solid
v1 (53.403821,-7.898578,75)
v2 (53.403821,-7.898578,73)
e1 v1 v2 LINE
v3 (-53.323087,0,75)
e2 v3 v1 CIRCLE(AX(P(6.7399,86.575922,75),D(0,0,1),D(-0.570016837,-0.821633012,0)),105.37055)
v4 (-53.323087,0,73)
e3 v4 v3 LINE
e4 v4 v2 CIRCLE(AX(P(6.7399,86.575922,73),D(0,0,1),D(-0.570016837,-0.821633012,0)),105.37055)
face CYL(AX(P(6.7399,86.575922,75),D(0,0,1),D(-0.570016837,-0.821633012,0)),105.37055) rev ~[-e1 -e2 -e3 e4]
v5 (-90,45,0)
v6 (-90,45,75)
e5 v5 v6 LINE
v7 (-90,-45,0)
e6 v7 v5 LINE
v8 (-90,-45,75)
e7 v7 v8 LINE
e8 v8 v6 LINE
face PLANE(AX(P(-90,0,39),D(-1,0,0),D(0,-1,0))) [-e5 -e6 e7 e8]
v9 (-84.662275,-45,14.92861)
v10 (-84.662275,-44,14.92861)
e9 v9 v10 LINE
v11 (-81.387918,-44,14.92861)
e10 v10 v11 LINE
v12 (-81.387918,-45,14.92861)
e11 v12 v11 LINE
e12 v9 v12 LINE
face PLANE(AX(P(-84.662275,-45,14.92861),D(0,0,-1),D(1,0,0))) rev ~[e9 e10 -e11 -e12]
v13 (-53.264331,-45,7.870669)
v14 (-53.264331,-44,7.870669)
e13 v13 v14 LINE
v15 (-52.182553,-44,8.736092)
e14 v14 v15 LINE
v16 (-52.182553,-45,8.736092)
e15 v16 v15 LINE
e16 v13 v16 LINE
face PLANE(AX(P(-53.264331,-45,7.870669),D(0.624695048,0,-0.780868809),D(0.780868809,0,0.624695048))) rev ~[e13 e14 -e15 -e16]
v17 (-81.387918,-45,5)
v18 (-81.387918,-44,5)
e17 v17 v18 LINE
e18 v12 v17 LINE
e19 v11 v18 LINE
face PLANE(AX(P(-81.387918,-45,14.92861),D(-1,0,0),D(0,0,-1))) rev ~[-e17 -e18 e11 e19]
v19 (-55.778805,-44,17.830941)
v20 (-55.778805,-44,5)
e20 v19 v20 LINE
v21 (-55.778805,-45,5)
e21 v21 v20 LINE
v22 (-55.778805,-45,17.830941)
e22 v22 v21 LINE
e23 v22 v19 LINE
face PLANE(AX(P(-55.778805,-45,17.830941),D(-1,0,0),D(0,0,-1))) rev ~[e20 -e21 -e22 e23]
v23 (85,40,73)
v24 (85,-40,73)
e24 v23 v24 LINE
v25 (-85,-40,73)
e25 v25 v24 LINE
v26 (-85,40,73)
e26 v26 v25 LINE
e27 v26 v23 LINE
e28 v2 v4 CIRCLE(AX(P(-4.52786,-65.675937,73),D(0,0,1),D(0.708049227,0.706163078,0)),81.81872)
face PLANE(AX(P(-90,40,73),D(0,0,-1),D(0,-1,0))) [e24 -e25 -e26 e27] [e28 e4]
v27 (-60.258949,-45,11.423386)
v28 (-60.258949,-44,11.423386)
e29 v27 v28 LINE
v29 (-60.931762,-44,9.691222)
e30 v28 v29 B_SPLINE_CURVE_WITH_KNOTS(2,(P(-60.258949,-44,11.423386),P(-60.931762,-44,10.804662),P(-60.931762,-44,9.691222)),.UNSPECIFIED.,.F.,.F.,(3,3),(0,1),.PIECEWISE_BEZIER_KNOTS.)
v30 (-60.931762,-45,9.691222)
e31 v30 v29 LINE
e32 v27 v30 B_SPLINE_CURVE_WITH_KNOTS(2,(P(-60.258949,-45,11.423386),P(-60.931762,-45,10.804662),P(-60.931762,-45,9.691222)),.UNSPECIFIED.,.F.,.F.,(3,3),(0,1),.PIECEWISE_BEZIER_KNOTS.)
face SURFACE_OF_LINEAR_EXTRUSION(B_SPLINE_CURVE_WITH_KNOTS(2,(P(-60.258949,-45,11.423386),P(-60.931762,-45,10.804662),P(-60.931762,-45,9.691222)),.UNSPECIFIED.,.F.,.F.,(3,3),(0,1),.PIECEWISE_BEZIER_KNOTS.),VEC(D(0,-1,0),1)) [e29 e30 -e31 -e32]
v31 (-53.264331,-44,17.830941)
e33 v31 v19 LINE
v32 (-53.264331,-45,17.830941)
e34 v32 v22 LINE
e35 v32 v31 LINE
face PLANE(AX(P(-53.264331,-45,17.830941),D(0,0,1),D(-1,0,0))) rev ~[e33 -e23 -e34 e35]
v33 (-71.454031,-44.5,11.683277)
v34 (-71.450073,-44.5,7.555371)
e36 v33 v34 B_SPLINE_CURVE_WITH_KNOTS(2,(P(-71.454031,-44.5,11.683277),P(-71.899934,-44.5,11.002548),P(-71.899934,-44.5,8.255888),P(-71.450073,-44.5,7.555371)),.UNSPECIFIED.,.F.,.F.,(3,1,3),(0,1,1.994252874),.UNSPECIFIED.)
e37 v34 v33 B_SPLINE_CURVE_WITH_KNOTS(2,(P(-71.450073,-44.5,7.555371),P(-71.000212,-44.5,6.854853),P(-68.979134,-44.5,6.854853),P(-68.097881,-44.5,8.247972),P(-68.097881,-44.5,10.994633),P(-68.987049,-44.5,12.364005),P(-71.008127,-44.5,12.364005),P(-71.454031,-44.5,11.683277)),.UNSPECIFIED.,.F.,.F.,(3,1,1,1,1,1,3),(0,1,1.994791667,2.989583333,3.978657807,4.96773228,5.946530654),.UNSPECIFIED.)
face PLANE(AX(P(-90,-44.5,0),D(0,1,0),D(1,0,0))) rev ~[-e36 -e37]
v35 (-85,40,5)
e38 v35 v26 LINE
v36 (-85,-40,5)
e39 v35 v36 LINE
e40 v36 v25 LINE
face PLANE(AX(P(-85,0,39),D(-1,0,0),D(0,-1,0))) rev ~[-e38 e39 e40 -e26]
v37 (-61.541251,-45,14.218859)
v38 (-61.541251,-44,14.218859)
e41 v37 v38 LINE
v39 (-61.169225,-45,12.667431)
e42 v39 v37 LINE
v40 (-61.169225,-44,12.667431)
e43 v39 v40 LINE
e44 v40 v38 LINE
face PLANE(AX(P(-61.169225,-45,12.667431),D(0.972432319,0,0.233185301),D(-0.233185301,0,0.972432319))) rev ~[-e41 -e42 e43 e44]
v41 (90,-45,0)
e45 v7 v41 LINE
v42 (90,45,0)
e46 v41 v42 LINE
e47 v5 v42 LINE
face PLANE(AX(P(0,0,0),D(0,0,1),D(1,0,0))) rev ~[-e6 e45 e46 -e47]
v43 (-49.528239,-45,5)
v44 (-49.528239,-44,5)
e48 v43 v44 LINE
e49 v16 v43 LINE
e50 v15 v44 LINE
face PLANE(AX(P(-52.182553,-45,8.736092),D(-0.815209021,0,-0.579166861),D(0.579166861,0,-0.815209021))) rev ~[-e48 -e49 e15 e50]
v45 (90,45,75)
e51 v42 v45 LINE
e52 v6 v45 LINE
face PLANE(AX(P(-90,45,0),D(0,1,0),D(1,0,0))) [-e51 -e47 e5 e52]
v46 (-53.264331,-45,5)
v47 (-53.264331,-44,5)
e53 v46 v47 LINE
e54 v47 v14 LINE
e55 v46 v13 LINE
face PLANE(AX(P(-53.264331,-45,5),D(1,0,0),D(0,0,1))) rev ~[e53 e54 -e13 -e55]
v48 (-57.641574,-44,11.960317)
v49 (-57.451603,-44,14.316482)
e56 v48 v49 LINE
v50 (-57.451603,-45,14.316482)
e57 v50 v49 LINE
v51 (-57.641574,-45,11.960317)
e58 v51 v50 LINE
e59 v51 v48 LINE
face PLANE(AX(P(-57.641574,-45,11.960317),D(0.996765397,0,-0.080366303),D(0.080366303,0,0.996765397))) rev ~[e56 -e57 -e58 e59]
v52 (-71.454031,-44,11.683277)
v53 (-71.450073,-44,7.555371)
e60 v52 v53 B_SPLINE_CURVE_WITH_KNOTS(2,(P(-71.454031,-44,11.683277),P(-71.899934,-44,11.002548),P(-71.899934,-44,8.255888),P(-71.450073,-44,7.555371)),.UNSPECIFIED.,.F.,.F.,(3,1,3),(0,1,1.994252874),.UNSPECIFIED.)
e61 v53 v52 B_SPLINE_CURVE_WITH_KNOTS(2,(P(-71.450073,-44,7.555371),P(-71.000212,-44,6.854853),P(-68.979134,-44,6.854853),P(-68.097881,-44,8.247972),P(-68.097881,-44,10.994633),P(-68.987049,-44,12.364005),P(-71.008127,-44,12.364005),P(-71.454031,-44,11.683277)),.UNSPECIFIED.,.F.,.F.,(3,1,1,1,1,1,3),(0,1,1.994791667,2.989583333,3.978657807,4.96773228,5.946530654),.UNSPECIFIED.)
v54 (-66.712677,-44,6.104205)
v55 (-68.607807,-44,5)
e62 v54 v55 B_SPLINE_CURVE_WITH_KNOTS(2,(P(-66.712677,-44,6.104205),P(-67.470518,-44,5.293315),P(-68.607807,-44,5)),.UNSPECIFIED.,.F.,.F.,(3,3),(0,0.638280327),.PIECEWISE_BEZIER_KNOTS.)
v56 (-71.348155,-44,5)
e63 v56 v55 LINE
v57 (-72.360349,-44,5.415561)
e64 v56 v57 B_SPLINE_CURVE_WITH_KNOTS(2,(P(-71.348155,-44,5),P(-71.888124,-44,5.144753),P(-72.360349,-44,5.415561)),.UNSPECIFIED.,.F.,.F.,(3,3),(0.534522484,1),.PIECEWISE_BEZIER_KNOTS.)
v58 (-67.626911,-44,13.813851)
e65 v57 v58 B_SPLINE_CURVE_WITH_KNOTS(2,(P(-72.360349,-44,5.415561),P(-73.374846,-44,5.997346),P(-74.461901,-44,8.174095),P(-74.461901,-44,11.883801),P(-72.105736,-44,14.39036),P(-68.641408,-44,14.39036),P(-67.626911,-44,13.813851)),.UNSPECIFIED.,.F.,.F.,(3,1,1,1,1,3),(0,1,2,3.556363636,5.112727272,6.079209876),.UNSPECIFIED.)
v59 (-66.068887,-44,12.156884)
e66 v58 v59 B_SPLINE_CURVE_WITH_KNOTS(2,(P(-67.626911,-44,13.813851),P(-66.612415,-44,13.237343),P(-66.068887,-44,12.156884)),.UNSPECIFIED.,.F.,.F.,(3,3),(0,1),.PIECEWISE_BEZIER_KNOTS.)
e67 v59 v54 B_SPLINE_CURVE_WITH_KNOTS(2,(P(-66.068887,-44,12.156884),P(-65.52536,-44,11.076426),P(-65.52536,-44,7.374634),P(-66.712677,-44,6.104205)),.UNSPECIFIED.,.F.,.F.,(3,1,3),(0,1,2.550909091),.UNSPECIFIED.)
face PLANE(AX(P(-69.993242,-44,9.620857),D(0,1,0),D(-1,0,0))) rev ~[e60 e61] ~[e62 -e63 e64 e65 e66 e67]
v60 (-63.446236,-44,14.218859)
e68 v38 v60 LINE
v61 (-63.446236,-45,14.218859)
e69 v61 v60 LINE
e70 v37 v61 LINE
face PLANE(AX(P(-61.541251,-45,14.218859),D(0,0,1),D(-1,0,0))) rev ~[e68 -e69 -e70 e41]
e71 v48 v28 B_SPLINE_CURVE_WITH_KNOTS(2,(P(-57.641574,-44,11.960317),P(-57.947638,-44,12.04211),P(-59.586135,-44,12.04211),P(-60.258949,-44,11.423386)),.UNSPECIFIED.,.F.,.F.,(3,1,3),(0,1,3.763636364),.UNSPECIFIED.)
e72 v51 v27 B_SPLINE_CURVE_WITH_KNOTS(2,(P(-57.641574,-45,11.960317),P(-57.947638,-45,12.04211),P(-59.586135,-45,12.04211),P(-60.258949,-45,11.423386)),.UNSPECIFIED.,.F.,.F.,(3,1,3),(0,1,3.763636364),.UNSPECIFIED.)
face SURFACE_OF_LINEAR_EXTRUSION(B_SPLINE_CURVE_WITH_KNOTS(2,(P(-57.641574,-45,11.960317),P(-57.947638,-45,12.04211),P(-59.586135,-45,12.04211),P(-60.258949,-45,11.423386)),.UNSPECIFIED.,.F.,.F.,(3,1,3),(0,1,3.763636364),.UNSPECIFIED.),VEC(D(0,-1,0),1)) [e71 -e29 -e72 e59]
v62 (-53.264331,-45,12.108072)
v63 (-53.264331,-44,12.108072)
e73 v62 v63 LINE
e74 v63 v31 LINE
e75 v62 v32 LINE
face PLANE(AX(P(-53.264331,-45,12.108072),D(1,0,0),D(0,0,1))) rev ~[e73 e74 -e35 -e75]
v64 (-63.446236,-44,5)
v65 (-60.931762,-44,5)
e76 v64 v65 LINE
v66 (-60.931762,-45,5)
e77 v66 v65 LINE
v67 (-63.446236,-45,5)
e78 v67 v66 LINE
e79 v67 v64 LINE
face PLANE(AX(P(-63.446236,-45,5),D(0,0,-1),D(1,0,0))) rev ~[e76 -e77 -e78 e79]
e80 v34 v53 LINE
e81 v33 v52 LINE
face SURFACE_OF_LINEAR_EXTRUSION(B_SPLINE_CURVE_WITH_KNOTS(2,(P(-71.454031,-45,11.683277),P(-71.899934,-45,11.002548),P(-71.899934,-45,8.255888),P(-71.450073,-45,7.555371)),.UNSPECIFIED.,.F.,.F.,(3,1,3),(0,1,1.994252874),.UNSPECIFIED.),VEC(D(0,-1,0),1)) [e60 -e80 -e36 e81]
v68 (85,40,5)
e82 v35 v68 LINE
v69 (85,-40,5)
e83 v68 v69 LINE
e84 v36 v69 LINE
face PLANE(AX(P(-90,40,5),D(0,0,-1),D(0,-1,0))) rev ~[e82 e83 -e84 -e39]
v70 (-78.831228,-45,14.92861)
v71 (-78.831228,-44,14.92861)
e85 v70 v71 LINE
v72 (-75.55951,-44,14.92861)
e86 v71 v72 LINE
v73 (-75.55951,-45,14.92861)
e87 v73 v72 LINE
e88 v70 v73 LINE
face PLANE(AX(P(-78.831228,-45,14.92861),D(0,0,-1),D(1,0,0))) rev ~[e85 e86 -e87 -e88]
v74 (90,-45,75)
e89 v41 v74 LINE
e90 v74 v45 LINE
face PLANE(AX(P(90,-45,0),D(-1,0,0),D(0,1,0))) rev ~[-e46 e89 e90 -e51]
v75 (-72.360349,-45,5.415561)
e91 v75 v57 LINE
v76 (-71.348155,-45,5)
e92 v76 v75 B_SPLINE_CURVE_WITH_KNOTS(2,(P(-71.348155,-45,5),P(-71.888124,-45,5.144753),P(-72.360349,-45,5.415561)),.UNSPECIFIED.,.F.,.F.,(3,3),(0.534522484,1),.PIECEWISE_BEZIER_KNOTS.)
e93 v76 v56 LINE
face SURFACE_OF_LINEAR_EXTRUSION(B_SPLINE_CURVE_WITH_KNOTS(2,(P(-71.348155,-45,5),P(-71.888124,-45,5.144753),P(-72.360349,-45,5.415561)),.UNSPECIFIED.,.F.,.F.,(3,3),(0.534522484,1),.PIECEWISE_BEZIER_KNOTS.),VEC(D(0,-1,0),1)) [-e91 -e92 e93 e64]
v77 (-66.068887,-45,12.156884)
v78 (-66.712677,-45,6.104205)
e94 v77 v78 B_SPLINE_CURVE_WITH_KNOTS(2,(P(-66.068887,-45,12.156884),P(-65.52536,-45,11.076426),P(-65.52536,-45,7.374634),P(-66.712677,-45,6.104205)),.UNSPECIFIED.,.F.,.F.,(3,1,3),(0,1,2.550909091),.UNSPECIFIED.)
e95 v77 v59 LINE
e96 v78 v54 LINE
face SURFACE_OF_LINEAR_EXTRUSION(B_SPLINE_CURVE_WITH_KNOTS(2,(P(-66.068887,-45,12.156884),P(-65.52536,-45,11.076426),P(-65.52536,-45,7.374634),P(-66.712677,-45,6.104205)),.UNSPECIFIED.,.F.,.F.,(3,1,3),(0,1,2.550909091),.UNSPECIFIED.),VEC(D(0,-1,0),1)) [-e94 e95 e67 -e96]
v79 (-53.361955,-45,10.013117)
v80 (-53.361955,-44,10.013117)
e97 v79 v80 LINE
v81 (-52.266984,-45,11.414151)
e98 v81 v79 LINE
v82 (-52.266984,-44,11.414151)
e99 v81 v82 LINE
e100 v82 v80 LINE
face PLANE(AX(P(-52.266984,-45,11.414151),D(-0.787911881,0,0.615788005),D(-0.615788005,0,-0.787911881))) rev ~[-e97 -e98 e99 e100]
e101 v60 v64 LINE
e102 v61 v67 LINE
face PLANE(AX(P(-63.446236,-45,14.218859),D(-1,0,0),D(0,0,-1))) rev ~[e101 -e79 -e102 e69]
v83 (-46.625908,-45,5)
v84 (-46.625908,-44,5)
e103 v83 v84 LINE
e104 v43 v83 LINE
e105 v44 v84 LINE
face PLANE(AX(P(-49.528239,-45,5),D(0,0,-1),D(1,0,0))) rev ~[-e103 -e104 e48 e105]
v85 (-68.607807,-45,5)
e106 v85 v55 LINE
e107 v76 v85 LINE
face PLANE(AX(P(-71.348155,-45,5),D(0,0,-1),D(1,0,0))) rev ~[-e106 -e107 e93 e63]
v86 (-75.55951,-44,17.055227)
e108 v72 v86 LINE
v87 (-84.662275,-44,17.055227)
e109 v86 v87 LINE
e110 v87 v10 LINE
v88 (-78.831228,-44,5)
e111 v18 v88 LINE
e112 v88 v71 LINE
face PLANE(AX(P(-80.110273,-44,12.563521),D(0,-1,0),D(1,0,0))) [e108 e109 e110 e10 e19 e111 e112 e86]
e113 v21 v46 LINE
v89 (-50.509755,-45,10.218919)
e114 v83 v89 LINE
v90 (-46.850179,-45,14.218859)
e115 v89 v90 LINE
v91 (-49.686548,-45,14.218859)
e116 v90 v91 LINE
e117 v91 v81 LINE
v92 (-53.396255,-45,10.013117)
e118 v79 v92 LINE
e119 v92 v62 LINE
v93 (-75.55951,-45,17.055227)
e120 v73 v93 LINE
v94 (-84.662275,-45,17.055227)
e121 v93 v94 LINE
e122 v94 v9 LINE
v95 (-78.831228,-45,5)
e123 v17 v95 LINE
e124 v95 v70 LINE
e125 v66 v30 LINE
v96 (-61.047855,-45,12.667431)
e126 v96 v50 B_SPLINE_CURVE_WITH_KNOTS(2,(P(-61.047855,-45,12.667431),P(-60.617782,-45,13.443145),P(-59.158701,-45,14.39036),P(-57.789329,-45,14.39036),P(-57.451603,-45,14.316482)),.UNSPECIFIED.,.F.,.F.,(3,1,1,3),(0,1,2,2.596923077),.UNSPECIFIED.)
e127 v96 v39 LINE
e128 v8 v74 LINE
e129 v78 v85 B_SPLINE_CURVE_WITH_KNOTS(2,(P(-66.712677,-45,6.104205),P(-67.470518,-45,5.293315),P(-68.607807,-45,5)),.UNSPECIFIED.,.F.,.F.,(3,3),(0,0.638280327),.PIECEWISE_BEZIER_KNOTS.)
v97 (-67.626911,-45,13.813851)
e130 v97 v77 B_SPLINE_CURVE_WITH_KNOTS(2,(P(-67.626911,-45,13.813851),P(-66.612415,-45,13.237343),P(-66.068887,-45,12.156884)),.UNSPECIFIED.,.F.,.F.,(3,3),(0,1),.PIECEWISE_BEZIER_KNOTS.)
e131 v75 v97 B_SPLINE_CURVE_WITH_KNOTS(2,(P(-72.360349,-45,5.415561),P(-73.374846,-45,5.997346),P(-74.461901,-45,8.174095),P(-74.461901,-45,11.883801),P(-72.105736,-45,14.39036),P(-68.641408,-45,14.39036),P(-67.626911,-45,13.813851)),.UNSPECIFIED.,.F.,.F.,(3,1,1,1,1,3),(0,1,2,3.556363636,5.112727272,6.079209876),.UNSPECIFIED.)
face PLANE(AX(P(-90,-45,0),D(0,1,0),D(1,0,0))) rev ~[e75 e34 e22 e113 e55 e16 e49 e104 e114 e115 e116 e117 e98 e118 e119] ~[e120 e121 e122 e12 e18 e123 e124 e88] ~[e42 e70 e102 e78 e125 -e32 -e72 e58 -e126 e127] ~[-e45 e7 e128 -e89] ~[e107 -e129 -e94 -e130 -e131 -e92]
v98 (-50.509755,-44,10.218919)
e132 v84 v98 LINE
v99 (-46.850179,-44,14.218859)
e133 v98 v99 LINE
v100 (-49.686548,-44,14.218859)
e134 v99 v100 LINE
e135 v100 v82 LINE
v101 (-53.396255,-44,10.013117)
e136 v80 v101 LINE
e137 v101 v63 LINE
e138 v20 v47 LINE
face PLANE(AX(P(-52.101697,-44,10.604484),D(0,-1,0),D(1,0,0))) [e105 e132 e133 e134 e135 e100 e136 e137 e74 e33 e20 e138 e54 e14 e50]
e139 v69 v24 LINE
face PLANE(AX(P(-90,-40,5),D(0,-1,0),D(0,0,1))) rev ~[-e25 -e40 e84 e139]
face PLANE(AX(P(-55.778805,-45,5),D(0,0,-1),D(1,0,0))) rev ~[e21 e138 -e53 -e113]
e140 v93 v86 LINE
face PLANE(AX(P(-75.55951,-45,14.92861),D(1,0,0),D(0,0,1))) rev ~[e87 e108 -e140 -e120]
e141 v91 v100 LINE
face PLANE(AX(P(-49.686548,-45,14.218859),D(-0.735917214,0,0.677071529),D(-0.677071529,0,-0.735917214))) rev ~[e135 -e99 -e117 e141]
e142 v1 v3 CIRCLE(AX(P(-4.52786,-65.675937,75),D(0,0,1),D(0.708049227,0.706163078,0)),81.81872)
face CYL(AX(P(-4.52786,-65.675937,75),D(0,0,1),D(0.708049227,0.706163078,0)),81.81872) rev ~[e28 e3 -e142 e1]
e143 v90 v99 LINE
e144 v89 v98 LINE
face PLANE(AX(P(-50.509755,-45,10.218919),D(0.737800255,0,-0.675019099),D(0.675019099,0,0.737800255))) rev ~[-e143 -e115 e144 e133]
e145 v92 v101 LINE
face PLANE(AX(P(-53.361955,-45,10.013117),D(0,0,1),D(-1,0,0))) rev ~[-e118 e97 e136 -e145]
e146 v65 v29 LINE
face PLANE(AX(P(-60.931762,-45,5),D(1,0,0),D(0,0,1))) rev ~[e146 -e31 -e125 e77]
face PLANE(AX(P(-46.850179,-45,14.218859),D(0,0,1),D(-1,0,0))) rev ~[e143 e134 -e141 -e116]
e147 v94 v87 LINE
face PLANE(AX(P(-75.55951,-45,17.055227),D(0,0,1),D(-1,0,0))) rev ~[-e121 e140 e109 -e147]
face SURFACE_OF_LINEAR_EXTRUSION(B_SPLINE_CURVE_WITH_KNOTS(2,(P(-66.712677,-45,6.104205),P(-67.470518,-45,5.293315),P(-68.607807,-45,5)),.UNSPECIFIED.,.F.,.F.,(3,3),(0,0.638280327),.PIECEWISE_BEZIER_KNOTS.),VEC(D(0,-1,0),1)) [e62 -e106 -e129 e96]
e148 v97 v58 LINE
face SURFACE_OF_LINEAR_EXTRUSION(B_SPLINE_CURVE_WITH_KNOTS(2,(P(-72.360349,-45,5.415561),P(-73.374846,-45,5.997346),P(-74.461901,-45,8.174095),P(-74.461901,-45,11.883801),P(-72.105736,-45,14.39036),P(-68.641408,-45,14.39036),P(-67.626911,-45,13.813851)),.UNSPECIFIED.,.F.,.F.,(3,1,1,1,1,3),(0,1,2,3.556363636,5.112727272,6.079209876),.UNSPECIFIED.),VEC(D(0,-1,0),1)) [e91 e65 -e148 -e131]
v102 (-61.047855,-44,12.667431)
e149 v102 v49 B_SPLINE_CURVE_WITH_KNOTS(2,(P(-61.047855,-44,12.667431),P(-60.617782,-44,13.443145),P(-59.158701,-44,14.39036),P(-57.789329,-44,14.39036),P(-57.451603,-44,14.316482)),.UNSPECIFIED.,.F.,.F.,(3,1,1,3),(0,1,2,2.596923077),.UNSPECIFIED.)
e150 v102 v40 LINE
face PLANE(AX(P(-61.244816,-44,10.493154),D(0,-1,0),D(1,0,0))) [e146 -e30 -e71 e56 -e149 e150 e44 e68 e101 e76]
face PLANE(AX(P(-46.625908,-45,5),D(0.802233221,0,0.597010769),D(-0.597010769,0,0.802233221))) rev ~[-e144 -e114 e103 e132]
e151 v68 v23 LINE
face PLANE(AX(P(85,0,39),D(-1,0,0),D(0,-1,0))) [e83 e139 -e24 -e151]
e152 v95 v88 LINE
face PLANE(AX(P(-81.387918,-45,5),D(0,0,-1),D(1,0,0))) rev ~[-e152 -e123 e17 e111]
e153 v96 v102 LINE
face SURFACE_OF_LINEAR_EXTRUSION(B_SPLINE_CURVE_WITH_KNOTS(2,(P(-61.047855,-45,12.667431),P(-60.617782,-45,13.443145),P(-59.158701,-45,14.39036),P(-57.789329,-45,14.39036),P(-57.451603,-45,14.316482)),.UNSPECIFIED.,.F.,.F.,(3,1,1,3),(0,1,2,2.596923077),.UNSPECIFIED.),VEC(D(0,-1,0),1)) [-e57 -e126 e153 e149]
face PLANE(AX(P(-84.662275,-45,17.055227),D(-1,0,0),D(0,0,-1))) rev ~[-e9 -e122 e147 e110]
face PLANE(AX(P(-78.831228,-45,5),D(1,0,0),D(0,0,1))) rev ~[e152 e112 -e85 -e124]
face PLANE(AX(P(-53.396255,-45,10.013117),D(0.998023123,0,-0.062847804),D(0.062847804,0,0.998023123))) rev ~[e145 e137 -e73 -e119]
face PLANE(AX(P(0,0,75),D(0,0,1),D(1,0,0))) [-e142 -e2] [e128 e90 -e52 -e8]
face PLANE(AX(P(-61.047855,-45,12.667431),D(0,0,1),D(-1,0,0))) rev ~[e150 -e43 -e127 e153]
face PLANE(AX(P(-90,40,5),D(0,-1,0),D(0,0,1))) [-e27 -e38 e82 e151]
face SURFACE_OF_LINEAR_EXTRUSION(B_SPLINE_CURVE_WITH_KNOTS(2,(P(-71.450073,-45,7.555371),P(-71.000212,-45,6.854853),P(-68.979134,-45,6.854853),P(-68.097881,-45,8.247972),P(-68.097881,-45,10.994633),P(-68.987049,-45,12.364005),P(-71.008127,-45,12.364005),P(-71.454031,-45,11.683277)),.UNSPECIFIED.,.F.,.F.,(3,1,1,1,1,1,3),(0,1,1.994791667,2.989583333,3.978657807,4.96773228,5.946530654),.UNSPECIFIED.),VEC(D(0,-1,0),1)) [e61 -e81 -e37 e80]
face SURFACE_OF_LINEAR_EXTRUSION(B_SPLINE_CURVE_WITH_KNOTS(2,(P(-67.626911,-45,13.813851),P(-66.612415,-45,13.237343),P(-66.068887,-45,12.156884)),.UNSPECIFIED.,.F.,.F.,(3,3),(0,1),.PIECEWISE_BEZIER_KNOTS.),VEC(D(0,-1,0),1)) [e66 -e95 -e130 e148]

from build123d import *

# Parameters (mm, degrees)
F0_W      = 180
F0_H      = 90
F1_DEPTH  = 75
F2_W      = 80
F2_H      = 68
F3_DEPTH  = 175
F4_W      = 80
F4_H      = 68
F5_DEPTH  = 5
F7_DEPTH  = 25
F9_DEPTH  = 1
F10_DEPTH = 0.5


with BuildPart() as f1:
    # F0 (on Top) → F1 (new body)
    with BuildSketch(Plane.XY):
        Rectangle(F0_W, F0_H)
    extrude(amount=F1_DEPTH)

    # F2 (on face) → F3 (cut)
    with BuildSketch(Plane(origin=(-90, 0, 0), x_dir=(0, -1, 0), z_dir=(-1, 0, 0))):
        with Locations((0, 39)):
            Rectangle(F2_W, F2_H)
    extrude(amount=-F3_DEPTH, mode=Mode.SUBTRACT)

    # F4 (on face) → F5 (join)
    with BuildSketch(Plane(origin=(-90, 0, 0), x_dir=(0, -1, 0), z_dir=(-1, 0, 0))):
        with Locations((0, 39)):
            Rectangle(F4_W, F4_H)
    extrude(amount=-F5_DEPTH)

    # F6 (on face) → F7 (cut, symmetric)
    with BuildSketch(Plane.XY.offset(75)):
        with BuildLine():
            ThreePointArc((53.4038208425, -7.8985784203), (1.5108137294, 15.9196343033), (-53.3230871735, 0))
            ThreePointArc((-53.3230871735, 0), (-1.0370293111, -18.5072454911), (53.4038208425, -7.8985784203))
        make_face()
    extrude(amount=F7_DEPTH, both=True, mode=Mode.SUBTRACT)

    # F8 (on face) → F9 (cut)
    with BuildSketch(Plane.XZ.offset(45)):
        Polygon((-81.387918066, 14.9286104324), (-81.387918066, 5), (-78.8312283214, 5), (-78.8312283214, 14.9286104324), (-75.5595097627, 14.9286104324), (-75.5595097627, 17.0552274955), (-84.6622751074, 17.0552274955), (-84.6622751074, 14.9286104324), align=None)
        with BuildLine():
            add(Edge.make_bspline(
                [(-71.3481548896, 5), (-71.8881241204, 5.1447529863), (-72.3603494786, 5.4155610266)],
                knots=[0.5345224838, 0.5345224838, 0.5345224838, 1, 1, 1], degree=2))
            Line((-71.3481548896, 5), (-68.6078073449, 5))
            add(Edge.make_bspline(
                [(-66.7126772409, 6.1042050135), (-67.4705184641, 5.2933149046), (-68.6078073449, 5)],
                knots=[0, 0, 0, 0.6382803275, 0.6382803275, 0.6382803275], degree=2))
            add(Edge.make_bspline(
                [(-65.525360022, 9.6252601882), (-65.525360022, 7.3746344377), (-66.7126772409, 6.1042050135)],
                knots=[0, 0, 0, 1, 1, 1], degree=2))
            add(Edge.make_bspline(
                [(-66.06888746, 12.156884347), (-65.525360022, 11.0764256779), (-65.525360022, 9.6252601882)],
                knots=[0, 0, 0, 1, 1, 1], degree=2))
            add(Edge.make_bspline(
                [(-67.6269114994, 13.813851488), (-66.6124148979, 13.2373430162), (-66.06888746, 12.156884347)],
                knots=[0, 0, 0, 1, 1, 1], degree=2))
            add(Edge.make_bspline(
                [(-69.9685649032, 14.3903599599), (-68.6414081008, 14.3903599599), (-67.6269114994, 13.813851488)],
                knots=[0, 0, 0, 1, 1, 1], degree=2))
            add(Edge.make_bspline(
                [(-73.2838184266, 13.1370806733), (-72.1057358972, 14.3903599599), (-69.9685649032, 14.3903599599)],
                knots=[0, 0, 0, 1, 1, 1], degree=2))
            add(Edge.make_bspline(
                [(-74.461900956, 9.6252601882), (-74.461900956, 11.8838013867), (-73.2838184266, 13.1370806733)],
                knots=[0, 0, 0, 1, 1, 1], degree=2))
            add(Edge.make_bspline(
                [(-73.918373518, 7.0857205811), (-74.461900956, 8.1740946984), (-74.461900956, 9.6252601882)],
                knots=[0, 0, 0, 1, 1, 1], degree=2))
            add(Edge.make_bspline(
                [(-72.3603494786, 5.4155610266), (-73.37484608, 5.9973464638), (-73.918373518, 7.0857205811)],
                knots=[0, 0, 0, 1, 1, 1], degree=2))
        make_face()
        with BuildLine():
            add(Edge.make_bspline(
                [(-71.8999342459, 9.6252601882), (-71.8999342459, 8.2558876624), (-71.4500729441, 7.5553705033)],
                knots=[0, 0, 0, 1, 1, 1], degree=2))
            add(Edge.make_bspline(
                [(-71.4540306682, 11.6832767009), (-71.8999342459, 11.002548162), (-71.8999342459, 9.6252601882)],
                knots=[0, 0, 0, 1, 1, 1], degree=2))
            add(Edge.make_bspline(
                [(-70.0028651785, 12.3640052397), (-71.0081270904, 12.3640052397), (-71.4540306682, 11.6832767009)],
                knots=[0, 0, 0, 1, 1, 1], degree=2))
            add(Edge.make_bspline(
                [(-68.5424649993, 11.6793189768), (-68.9870493357, 12.3640052397), (-70.0028651785, 12.3640052397)],
                knots=[0, 0, 0, 1, 1, 1], degree=2))
            add(Edge.make_bspline(
                [(-68.0978806629, 9.6252601882), (-68.0978806629, 10.9946327139), (-68.5424649993, 11.6793189768)],
                knots=[0, 0, 0, 1, 1, 1], degree=2))
            add(Edge.make_bspline(
                [(-68.5385072752, 7.5514127792), (-68.0978806629, 8.2479722143), (-68.0978806629, 9.6252601882)],
                knots=[0, 0, 0, 1, 1, 1], degree=2))
            add(Edge.make_bspline(
                [(-69.9870342822, 6.8548533441), (-68.9791338875, 6.8548533441), (-68.5385072752, 7.5514127792)],
                knots=[0, 0, 0, 1, 1, 1], degree=2))
            add(Edge.make_bspline(
                [(-71.4500729441, 7.5553705033), (-71.0002116423, 6.8548533441), (-69.9870342822, 6.8548533441)],
                knots=[0, 0, 0, 1, 1, 1], degree=2))
        make_face(mode=Mode.SUBTRACT)
        with BuildLine():
            Line((-63.4462356476, 5), (-60.9317616263, 5))
            Line((-60.9317616263, 5), (-60.9317616263, 9.6912222559))
            add(Edge.make_bspline(
                [(-60.2589485356, 11.4233861541), (-60.9317616263, 10.8046619589), (-60.9317616263, 9.6912222559)],
                knots=[0, 0, 0, 1, 1, 1], degree=2))
            add(Edge.make_bspline(
                [(-58.3829873298, 12.0421103492), (-59.586135445, 12.0421103492), (-60.2589485356, 11.4233861541)],
                knots=[0, 0, 0, 1, 1, 1], degree=2))
            add(Edge.make_bspline(
                [(-57.6415736887, 11.9603173853), (-57.9476376829, 12.0421103492), (-58.3829873298, 12.0421103492)],
                knots=[0, 0, 0, 1, 1, 1], degree=2))
            Line((-57.6415736887, 11.9603173853), (-57.4516029337, 14.316482444))
            add(Edge.make_bspline(
                [(-58.3011943659, 14.3903599599), (-57.7893287204, 14.3903599599), (-57.4516029337, 14.316482444)],
                knots=[0, 0, 0, 1, 1, 1], degree=2))
            add(Edge.make_bspline(
                [(-59.8882417151, 13.9167523137), (-59.1587012462, 14.3903599599), (-58.3011943659, 14.3903599599)],
                knots=[0, 0, 0, 1, 1, 1], degree=2))
            add(Edge.make_bspline(
                [(-61.0478548655, 12.6674307512), (-60.617782184, 13.4431446675), (-59.8882417151, 13.9167523137)],
                knots=[0, 0, 0, 1, 1, 1], degree=2))
            Line((-61.0478548655, 12.6674307512), (-61.1692250701, 12.6674307512))
            Line((-61.1692250701, 12.6674307512), (-61.541251132, 14.2188585838))
            Line((-61.541251132, 14.2188585838), (-63.4462356476, 14.2188585838))
            Line((-63.4462356476, 14.2188585838), (-63.4462356476, 5))
        make_face()
        Polygon((-49.5282393598, 5), (-46.6259083804, 5), (-50.5097549274, 10.2189187976), (-46.8501794106, 14.2188585838), (-49.6865483223, 14.2188585838), (-52.2669844113, 11.4141514646), (-53.3619547354, 10.0131171463), (-53.3962550106, 10.0131171463), (-53.2643308752, 12.1080724169), (-53.2643308752, 17.8309414119), (-55.7788048965, 17.8309414119), (-55.7788048965, 5), (-53.2643308752, 5), (-53.2643308752, 7.8706691869), (-52.1825529647, 8.7360915154), align=None)
    extrude(amount=-F9_DEPTH, mode=Mode.SUBTRACT)

    # F10 (cut): a face of the model
    f10_faces = [f1.faces().sort_by_distance(p)[0] for p in [
        (-69.997731823, -45, 9.6131266582),
    ]]
    extrude(f10_faces, amount=-F10_DEPTH, mode=Mode.SUBTRACT)


solid = f1.part
